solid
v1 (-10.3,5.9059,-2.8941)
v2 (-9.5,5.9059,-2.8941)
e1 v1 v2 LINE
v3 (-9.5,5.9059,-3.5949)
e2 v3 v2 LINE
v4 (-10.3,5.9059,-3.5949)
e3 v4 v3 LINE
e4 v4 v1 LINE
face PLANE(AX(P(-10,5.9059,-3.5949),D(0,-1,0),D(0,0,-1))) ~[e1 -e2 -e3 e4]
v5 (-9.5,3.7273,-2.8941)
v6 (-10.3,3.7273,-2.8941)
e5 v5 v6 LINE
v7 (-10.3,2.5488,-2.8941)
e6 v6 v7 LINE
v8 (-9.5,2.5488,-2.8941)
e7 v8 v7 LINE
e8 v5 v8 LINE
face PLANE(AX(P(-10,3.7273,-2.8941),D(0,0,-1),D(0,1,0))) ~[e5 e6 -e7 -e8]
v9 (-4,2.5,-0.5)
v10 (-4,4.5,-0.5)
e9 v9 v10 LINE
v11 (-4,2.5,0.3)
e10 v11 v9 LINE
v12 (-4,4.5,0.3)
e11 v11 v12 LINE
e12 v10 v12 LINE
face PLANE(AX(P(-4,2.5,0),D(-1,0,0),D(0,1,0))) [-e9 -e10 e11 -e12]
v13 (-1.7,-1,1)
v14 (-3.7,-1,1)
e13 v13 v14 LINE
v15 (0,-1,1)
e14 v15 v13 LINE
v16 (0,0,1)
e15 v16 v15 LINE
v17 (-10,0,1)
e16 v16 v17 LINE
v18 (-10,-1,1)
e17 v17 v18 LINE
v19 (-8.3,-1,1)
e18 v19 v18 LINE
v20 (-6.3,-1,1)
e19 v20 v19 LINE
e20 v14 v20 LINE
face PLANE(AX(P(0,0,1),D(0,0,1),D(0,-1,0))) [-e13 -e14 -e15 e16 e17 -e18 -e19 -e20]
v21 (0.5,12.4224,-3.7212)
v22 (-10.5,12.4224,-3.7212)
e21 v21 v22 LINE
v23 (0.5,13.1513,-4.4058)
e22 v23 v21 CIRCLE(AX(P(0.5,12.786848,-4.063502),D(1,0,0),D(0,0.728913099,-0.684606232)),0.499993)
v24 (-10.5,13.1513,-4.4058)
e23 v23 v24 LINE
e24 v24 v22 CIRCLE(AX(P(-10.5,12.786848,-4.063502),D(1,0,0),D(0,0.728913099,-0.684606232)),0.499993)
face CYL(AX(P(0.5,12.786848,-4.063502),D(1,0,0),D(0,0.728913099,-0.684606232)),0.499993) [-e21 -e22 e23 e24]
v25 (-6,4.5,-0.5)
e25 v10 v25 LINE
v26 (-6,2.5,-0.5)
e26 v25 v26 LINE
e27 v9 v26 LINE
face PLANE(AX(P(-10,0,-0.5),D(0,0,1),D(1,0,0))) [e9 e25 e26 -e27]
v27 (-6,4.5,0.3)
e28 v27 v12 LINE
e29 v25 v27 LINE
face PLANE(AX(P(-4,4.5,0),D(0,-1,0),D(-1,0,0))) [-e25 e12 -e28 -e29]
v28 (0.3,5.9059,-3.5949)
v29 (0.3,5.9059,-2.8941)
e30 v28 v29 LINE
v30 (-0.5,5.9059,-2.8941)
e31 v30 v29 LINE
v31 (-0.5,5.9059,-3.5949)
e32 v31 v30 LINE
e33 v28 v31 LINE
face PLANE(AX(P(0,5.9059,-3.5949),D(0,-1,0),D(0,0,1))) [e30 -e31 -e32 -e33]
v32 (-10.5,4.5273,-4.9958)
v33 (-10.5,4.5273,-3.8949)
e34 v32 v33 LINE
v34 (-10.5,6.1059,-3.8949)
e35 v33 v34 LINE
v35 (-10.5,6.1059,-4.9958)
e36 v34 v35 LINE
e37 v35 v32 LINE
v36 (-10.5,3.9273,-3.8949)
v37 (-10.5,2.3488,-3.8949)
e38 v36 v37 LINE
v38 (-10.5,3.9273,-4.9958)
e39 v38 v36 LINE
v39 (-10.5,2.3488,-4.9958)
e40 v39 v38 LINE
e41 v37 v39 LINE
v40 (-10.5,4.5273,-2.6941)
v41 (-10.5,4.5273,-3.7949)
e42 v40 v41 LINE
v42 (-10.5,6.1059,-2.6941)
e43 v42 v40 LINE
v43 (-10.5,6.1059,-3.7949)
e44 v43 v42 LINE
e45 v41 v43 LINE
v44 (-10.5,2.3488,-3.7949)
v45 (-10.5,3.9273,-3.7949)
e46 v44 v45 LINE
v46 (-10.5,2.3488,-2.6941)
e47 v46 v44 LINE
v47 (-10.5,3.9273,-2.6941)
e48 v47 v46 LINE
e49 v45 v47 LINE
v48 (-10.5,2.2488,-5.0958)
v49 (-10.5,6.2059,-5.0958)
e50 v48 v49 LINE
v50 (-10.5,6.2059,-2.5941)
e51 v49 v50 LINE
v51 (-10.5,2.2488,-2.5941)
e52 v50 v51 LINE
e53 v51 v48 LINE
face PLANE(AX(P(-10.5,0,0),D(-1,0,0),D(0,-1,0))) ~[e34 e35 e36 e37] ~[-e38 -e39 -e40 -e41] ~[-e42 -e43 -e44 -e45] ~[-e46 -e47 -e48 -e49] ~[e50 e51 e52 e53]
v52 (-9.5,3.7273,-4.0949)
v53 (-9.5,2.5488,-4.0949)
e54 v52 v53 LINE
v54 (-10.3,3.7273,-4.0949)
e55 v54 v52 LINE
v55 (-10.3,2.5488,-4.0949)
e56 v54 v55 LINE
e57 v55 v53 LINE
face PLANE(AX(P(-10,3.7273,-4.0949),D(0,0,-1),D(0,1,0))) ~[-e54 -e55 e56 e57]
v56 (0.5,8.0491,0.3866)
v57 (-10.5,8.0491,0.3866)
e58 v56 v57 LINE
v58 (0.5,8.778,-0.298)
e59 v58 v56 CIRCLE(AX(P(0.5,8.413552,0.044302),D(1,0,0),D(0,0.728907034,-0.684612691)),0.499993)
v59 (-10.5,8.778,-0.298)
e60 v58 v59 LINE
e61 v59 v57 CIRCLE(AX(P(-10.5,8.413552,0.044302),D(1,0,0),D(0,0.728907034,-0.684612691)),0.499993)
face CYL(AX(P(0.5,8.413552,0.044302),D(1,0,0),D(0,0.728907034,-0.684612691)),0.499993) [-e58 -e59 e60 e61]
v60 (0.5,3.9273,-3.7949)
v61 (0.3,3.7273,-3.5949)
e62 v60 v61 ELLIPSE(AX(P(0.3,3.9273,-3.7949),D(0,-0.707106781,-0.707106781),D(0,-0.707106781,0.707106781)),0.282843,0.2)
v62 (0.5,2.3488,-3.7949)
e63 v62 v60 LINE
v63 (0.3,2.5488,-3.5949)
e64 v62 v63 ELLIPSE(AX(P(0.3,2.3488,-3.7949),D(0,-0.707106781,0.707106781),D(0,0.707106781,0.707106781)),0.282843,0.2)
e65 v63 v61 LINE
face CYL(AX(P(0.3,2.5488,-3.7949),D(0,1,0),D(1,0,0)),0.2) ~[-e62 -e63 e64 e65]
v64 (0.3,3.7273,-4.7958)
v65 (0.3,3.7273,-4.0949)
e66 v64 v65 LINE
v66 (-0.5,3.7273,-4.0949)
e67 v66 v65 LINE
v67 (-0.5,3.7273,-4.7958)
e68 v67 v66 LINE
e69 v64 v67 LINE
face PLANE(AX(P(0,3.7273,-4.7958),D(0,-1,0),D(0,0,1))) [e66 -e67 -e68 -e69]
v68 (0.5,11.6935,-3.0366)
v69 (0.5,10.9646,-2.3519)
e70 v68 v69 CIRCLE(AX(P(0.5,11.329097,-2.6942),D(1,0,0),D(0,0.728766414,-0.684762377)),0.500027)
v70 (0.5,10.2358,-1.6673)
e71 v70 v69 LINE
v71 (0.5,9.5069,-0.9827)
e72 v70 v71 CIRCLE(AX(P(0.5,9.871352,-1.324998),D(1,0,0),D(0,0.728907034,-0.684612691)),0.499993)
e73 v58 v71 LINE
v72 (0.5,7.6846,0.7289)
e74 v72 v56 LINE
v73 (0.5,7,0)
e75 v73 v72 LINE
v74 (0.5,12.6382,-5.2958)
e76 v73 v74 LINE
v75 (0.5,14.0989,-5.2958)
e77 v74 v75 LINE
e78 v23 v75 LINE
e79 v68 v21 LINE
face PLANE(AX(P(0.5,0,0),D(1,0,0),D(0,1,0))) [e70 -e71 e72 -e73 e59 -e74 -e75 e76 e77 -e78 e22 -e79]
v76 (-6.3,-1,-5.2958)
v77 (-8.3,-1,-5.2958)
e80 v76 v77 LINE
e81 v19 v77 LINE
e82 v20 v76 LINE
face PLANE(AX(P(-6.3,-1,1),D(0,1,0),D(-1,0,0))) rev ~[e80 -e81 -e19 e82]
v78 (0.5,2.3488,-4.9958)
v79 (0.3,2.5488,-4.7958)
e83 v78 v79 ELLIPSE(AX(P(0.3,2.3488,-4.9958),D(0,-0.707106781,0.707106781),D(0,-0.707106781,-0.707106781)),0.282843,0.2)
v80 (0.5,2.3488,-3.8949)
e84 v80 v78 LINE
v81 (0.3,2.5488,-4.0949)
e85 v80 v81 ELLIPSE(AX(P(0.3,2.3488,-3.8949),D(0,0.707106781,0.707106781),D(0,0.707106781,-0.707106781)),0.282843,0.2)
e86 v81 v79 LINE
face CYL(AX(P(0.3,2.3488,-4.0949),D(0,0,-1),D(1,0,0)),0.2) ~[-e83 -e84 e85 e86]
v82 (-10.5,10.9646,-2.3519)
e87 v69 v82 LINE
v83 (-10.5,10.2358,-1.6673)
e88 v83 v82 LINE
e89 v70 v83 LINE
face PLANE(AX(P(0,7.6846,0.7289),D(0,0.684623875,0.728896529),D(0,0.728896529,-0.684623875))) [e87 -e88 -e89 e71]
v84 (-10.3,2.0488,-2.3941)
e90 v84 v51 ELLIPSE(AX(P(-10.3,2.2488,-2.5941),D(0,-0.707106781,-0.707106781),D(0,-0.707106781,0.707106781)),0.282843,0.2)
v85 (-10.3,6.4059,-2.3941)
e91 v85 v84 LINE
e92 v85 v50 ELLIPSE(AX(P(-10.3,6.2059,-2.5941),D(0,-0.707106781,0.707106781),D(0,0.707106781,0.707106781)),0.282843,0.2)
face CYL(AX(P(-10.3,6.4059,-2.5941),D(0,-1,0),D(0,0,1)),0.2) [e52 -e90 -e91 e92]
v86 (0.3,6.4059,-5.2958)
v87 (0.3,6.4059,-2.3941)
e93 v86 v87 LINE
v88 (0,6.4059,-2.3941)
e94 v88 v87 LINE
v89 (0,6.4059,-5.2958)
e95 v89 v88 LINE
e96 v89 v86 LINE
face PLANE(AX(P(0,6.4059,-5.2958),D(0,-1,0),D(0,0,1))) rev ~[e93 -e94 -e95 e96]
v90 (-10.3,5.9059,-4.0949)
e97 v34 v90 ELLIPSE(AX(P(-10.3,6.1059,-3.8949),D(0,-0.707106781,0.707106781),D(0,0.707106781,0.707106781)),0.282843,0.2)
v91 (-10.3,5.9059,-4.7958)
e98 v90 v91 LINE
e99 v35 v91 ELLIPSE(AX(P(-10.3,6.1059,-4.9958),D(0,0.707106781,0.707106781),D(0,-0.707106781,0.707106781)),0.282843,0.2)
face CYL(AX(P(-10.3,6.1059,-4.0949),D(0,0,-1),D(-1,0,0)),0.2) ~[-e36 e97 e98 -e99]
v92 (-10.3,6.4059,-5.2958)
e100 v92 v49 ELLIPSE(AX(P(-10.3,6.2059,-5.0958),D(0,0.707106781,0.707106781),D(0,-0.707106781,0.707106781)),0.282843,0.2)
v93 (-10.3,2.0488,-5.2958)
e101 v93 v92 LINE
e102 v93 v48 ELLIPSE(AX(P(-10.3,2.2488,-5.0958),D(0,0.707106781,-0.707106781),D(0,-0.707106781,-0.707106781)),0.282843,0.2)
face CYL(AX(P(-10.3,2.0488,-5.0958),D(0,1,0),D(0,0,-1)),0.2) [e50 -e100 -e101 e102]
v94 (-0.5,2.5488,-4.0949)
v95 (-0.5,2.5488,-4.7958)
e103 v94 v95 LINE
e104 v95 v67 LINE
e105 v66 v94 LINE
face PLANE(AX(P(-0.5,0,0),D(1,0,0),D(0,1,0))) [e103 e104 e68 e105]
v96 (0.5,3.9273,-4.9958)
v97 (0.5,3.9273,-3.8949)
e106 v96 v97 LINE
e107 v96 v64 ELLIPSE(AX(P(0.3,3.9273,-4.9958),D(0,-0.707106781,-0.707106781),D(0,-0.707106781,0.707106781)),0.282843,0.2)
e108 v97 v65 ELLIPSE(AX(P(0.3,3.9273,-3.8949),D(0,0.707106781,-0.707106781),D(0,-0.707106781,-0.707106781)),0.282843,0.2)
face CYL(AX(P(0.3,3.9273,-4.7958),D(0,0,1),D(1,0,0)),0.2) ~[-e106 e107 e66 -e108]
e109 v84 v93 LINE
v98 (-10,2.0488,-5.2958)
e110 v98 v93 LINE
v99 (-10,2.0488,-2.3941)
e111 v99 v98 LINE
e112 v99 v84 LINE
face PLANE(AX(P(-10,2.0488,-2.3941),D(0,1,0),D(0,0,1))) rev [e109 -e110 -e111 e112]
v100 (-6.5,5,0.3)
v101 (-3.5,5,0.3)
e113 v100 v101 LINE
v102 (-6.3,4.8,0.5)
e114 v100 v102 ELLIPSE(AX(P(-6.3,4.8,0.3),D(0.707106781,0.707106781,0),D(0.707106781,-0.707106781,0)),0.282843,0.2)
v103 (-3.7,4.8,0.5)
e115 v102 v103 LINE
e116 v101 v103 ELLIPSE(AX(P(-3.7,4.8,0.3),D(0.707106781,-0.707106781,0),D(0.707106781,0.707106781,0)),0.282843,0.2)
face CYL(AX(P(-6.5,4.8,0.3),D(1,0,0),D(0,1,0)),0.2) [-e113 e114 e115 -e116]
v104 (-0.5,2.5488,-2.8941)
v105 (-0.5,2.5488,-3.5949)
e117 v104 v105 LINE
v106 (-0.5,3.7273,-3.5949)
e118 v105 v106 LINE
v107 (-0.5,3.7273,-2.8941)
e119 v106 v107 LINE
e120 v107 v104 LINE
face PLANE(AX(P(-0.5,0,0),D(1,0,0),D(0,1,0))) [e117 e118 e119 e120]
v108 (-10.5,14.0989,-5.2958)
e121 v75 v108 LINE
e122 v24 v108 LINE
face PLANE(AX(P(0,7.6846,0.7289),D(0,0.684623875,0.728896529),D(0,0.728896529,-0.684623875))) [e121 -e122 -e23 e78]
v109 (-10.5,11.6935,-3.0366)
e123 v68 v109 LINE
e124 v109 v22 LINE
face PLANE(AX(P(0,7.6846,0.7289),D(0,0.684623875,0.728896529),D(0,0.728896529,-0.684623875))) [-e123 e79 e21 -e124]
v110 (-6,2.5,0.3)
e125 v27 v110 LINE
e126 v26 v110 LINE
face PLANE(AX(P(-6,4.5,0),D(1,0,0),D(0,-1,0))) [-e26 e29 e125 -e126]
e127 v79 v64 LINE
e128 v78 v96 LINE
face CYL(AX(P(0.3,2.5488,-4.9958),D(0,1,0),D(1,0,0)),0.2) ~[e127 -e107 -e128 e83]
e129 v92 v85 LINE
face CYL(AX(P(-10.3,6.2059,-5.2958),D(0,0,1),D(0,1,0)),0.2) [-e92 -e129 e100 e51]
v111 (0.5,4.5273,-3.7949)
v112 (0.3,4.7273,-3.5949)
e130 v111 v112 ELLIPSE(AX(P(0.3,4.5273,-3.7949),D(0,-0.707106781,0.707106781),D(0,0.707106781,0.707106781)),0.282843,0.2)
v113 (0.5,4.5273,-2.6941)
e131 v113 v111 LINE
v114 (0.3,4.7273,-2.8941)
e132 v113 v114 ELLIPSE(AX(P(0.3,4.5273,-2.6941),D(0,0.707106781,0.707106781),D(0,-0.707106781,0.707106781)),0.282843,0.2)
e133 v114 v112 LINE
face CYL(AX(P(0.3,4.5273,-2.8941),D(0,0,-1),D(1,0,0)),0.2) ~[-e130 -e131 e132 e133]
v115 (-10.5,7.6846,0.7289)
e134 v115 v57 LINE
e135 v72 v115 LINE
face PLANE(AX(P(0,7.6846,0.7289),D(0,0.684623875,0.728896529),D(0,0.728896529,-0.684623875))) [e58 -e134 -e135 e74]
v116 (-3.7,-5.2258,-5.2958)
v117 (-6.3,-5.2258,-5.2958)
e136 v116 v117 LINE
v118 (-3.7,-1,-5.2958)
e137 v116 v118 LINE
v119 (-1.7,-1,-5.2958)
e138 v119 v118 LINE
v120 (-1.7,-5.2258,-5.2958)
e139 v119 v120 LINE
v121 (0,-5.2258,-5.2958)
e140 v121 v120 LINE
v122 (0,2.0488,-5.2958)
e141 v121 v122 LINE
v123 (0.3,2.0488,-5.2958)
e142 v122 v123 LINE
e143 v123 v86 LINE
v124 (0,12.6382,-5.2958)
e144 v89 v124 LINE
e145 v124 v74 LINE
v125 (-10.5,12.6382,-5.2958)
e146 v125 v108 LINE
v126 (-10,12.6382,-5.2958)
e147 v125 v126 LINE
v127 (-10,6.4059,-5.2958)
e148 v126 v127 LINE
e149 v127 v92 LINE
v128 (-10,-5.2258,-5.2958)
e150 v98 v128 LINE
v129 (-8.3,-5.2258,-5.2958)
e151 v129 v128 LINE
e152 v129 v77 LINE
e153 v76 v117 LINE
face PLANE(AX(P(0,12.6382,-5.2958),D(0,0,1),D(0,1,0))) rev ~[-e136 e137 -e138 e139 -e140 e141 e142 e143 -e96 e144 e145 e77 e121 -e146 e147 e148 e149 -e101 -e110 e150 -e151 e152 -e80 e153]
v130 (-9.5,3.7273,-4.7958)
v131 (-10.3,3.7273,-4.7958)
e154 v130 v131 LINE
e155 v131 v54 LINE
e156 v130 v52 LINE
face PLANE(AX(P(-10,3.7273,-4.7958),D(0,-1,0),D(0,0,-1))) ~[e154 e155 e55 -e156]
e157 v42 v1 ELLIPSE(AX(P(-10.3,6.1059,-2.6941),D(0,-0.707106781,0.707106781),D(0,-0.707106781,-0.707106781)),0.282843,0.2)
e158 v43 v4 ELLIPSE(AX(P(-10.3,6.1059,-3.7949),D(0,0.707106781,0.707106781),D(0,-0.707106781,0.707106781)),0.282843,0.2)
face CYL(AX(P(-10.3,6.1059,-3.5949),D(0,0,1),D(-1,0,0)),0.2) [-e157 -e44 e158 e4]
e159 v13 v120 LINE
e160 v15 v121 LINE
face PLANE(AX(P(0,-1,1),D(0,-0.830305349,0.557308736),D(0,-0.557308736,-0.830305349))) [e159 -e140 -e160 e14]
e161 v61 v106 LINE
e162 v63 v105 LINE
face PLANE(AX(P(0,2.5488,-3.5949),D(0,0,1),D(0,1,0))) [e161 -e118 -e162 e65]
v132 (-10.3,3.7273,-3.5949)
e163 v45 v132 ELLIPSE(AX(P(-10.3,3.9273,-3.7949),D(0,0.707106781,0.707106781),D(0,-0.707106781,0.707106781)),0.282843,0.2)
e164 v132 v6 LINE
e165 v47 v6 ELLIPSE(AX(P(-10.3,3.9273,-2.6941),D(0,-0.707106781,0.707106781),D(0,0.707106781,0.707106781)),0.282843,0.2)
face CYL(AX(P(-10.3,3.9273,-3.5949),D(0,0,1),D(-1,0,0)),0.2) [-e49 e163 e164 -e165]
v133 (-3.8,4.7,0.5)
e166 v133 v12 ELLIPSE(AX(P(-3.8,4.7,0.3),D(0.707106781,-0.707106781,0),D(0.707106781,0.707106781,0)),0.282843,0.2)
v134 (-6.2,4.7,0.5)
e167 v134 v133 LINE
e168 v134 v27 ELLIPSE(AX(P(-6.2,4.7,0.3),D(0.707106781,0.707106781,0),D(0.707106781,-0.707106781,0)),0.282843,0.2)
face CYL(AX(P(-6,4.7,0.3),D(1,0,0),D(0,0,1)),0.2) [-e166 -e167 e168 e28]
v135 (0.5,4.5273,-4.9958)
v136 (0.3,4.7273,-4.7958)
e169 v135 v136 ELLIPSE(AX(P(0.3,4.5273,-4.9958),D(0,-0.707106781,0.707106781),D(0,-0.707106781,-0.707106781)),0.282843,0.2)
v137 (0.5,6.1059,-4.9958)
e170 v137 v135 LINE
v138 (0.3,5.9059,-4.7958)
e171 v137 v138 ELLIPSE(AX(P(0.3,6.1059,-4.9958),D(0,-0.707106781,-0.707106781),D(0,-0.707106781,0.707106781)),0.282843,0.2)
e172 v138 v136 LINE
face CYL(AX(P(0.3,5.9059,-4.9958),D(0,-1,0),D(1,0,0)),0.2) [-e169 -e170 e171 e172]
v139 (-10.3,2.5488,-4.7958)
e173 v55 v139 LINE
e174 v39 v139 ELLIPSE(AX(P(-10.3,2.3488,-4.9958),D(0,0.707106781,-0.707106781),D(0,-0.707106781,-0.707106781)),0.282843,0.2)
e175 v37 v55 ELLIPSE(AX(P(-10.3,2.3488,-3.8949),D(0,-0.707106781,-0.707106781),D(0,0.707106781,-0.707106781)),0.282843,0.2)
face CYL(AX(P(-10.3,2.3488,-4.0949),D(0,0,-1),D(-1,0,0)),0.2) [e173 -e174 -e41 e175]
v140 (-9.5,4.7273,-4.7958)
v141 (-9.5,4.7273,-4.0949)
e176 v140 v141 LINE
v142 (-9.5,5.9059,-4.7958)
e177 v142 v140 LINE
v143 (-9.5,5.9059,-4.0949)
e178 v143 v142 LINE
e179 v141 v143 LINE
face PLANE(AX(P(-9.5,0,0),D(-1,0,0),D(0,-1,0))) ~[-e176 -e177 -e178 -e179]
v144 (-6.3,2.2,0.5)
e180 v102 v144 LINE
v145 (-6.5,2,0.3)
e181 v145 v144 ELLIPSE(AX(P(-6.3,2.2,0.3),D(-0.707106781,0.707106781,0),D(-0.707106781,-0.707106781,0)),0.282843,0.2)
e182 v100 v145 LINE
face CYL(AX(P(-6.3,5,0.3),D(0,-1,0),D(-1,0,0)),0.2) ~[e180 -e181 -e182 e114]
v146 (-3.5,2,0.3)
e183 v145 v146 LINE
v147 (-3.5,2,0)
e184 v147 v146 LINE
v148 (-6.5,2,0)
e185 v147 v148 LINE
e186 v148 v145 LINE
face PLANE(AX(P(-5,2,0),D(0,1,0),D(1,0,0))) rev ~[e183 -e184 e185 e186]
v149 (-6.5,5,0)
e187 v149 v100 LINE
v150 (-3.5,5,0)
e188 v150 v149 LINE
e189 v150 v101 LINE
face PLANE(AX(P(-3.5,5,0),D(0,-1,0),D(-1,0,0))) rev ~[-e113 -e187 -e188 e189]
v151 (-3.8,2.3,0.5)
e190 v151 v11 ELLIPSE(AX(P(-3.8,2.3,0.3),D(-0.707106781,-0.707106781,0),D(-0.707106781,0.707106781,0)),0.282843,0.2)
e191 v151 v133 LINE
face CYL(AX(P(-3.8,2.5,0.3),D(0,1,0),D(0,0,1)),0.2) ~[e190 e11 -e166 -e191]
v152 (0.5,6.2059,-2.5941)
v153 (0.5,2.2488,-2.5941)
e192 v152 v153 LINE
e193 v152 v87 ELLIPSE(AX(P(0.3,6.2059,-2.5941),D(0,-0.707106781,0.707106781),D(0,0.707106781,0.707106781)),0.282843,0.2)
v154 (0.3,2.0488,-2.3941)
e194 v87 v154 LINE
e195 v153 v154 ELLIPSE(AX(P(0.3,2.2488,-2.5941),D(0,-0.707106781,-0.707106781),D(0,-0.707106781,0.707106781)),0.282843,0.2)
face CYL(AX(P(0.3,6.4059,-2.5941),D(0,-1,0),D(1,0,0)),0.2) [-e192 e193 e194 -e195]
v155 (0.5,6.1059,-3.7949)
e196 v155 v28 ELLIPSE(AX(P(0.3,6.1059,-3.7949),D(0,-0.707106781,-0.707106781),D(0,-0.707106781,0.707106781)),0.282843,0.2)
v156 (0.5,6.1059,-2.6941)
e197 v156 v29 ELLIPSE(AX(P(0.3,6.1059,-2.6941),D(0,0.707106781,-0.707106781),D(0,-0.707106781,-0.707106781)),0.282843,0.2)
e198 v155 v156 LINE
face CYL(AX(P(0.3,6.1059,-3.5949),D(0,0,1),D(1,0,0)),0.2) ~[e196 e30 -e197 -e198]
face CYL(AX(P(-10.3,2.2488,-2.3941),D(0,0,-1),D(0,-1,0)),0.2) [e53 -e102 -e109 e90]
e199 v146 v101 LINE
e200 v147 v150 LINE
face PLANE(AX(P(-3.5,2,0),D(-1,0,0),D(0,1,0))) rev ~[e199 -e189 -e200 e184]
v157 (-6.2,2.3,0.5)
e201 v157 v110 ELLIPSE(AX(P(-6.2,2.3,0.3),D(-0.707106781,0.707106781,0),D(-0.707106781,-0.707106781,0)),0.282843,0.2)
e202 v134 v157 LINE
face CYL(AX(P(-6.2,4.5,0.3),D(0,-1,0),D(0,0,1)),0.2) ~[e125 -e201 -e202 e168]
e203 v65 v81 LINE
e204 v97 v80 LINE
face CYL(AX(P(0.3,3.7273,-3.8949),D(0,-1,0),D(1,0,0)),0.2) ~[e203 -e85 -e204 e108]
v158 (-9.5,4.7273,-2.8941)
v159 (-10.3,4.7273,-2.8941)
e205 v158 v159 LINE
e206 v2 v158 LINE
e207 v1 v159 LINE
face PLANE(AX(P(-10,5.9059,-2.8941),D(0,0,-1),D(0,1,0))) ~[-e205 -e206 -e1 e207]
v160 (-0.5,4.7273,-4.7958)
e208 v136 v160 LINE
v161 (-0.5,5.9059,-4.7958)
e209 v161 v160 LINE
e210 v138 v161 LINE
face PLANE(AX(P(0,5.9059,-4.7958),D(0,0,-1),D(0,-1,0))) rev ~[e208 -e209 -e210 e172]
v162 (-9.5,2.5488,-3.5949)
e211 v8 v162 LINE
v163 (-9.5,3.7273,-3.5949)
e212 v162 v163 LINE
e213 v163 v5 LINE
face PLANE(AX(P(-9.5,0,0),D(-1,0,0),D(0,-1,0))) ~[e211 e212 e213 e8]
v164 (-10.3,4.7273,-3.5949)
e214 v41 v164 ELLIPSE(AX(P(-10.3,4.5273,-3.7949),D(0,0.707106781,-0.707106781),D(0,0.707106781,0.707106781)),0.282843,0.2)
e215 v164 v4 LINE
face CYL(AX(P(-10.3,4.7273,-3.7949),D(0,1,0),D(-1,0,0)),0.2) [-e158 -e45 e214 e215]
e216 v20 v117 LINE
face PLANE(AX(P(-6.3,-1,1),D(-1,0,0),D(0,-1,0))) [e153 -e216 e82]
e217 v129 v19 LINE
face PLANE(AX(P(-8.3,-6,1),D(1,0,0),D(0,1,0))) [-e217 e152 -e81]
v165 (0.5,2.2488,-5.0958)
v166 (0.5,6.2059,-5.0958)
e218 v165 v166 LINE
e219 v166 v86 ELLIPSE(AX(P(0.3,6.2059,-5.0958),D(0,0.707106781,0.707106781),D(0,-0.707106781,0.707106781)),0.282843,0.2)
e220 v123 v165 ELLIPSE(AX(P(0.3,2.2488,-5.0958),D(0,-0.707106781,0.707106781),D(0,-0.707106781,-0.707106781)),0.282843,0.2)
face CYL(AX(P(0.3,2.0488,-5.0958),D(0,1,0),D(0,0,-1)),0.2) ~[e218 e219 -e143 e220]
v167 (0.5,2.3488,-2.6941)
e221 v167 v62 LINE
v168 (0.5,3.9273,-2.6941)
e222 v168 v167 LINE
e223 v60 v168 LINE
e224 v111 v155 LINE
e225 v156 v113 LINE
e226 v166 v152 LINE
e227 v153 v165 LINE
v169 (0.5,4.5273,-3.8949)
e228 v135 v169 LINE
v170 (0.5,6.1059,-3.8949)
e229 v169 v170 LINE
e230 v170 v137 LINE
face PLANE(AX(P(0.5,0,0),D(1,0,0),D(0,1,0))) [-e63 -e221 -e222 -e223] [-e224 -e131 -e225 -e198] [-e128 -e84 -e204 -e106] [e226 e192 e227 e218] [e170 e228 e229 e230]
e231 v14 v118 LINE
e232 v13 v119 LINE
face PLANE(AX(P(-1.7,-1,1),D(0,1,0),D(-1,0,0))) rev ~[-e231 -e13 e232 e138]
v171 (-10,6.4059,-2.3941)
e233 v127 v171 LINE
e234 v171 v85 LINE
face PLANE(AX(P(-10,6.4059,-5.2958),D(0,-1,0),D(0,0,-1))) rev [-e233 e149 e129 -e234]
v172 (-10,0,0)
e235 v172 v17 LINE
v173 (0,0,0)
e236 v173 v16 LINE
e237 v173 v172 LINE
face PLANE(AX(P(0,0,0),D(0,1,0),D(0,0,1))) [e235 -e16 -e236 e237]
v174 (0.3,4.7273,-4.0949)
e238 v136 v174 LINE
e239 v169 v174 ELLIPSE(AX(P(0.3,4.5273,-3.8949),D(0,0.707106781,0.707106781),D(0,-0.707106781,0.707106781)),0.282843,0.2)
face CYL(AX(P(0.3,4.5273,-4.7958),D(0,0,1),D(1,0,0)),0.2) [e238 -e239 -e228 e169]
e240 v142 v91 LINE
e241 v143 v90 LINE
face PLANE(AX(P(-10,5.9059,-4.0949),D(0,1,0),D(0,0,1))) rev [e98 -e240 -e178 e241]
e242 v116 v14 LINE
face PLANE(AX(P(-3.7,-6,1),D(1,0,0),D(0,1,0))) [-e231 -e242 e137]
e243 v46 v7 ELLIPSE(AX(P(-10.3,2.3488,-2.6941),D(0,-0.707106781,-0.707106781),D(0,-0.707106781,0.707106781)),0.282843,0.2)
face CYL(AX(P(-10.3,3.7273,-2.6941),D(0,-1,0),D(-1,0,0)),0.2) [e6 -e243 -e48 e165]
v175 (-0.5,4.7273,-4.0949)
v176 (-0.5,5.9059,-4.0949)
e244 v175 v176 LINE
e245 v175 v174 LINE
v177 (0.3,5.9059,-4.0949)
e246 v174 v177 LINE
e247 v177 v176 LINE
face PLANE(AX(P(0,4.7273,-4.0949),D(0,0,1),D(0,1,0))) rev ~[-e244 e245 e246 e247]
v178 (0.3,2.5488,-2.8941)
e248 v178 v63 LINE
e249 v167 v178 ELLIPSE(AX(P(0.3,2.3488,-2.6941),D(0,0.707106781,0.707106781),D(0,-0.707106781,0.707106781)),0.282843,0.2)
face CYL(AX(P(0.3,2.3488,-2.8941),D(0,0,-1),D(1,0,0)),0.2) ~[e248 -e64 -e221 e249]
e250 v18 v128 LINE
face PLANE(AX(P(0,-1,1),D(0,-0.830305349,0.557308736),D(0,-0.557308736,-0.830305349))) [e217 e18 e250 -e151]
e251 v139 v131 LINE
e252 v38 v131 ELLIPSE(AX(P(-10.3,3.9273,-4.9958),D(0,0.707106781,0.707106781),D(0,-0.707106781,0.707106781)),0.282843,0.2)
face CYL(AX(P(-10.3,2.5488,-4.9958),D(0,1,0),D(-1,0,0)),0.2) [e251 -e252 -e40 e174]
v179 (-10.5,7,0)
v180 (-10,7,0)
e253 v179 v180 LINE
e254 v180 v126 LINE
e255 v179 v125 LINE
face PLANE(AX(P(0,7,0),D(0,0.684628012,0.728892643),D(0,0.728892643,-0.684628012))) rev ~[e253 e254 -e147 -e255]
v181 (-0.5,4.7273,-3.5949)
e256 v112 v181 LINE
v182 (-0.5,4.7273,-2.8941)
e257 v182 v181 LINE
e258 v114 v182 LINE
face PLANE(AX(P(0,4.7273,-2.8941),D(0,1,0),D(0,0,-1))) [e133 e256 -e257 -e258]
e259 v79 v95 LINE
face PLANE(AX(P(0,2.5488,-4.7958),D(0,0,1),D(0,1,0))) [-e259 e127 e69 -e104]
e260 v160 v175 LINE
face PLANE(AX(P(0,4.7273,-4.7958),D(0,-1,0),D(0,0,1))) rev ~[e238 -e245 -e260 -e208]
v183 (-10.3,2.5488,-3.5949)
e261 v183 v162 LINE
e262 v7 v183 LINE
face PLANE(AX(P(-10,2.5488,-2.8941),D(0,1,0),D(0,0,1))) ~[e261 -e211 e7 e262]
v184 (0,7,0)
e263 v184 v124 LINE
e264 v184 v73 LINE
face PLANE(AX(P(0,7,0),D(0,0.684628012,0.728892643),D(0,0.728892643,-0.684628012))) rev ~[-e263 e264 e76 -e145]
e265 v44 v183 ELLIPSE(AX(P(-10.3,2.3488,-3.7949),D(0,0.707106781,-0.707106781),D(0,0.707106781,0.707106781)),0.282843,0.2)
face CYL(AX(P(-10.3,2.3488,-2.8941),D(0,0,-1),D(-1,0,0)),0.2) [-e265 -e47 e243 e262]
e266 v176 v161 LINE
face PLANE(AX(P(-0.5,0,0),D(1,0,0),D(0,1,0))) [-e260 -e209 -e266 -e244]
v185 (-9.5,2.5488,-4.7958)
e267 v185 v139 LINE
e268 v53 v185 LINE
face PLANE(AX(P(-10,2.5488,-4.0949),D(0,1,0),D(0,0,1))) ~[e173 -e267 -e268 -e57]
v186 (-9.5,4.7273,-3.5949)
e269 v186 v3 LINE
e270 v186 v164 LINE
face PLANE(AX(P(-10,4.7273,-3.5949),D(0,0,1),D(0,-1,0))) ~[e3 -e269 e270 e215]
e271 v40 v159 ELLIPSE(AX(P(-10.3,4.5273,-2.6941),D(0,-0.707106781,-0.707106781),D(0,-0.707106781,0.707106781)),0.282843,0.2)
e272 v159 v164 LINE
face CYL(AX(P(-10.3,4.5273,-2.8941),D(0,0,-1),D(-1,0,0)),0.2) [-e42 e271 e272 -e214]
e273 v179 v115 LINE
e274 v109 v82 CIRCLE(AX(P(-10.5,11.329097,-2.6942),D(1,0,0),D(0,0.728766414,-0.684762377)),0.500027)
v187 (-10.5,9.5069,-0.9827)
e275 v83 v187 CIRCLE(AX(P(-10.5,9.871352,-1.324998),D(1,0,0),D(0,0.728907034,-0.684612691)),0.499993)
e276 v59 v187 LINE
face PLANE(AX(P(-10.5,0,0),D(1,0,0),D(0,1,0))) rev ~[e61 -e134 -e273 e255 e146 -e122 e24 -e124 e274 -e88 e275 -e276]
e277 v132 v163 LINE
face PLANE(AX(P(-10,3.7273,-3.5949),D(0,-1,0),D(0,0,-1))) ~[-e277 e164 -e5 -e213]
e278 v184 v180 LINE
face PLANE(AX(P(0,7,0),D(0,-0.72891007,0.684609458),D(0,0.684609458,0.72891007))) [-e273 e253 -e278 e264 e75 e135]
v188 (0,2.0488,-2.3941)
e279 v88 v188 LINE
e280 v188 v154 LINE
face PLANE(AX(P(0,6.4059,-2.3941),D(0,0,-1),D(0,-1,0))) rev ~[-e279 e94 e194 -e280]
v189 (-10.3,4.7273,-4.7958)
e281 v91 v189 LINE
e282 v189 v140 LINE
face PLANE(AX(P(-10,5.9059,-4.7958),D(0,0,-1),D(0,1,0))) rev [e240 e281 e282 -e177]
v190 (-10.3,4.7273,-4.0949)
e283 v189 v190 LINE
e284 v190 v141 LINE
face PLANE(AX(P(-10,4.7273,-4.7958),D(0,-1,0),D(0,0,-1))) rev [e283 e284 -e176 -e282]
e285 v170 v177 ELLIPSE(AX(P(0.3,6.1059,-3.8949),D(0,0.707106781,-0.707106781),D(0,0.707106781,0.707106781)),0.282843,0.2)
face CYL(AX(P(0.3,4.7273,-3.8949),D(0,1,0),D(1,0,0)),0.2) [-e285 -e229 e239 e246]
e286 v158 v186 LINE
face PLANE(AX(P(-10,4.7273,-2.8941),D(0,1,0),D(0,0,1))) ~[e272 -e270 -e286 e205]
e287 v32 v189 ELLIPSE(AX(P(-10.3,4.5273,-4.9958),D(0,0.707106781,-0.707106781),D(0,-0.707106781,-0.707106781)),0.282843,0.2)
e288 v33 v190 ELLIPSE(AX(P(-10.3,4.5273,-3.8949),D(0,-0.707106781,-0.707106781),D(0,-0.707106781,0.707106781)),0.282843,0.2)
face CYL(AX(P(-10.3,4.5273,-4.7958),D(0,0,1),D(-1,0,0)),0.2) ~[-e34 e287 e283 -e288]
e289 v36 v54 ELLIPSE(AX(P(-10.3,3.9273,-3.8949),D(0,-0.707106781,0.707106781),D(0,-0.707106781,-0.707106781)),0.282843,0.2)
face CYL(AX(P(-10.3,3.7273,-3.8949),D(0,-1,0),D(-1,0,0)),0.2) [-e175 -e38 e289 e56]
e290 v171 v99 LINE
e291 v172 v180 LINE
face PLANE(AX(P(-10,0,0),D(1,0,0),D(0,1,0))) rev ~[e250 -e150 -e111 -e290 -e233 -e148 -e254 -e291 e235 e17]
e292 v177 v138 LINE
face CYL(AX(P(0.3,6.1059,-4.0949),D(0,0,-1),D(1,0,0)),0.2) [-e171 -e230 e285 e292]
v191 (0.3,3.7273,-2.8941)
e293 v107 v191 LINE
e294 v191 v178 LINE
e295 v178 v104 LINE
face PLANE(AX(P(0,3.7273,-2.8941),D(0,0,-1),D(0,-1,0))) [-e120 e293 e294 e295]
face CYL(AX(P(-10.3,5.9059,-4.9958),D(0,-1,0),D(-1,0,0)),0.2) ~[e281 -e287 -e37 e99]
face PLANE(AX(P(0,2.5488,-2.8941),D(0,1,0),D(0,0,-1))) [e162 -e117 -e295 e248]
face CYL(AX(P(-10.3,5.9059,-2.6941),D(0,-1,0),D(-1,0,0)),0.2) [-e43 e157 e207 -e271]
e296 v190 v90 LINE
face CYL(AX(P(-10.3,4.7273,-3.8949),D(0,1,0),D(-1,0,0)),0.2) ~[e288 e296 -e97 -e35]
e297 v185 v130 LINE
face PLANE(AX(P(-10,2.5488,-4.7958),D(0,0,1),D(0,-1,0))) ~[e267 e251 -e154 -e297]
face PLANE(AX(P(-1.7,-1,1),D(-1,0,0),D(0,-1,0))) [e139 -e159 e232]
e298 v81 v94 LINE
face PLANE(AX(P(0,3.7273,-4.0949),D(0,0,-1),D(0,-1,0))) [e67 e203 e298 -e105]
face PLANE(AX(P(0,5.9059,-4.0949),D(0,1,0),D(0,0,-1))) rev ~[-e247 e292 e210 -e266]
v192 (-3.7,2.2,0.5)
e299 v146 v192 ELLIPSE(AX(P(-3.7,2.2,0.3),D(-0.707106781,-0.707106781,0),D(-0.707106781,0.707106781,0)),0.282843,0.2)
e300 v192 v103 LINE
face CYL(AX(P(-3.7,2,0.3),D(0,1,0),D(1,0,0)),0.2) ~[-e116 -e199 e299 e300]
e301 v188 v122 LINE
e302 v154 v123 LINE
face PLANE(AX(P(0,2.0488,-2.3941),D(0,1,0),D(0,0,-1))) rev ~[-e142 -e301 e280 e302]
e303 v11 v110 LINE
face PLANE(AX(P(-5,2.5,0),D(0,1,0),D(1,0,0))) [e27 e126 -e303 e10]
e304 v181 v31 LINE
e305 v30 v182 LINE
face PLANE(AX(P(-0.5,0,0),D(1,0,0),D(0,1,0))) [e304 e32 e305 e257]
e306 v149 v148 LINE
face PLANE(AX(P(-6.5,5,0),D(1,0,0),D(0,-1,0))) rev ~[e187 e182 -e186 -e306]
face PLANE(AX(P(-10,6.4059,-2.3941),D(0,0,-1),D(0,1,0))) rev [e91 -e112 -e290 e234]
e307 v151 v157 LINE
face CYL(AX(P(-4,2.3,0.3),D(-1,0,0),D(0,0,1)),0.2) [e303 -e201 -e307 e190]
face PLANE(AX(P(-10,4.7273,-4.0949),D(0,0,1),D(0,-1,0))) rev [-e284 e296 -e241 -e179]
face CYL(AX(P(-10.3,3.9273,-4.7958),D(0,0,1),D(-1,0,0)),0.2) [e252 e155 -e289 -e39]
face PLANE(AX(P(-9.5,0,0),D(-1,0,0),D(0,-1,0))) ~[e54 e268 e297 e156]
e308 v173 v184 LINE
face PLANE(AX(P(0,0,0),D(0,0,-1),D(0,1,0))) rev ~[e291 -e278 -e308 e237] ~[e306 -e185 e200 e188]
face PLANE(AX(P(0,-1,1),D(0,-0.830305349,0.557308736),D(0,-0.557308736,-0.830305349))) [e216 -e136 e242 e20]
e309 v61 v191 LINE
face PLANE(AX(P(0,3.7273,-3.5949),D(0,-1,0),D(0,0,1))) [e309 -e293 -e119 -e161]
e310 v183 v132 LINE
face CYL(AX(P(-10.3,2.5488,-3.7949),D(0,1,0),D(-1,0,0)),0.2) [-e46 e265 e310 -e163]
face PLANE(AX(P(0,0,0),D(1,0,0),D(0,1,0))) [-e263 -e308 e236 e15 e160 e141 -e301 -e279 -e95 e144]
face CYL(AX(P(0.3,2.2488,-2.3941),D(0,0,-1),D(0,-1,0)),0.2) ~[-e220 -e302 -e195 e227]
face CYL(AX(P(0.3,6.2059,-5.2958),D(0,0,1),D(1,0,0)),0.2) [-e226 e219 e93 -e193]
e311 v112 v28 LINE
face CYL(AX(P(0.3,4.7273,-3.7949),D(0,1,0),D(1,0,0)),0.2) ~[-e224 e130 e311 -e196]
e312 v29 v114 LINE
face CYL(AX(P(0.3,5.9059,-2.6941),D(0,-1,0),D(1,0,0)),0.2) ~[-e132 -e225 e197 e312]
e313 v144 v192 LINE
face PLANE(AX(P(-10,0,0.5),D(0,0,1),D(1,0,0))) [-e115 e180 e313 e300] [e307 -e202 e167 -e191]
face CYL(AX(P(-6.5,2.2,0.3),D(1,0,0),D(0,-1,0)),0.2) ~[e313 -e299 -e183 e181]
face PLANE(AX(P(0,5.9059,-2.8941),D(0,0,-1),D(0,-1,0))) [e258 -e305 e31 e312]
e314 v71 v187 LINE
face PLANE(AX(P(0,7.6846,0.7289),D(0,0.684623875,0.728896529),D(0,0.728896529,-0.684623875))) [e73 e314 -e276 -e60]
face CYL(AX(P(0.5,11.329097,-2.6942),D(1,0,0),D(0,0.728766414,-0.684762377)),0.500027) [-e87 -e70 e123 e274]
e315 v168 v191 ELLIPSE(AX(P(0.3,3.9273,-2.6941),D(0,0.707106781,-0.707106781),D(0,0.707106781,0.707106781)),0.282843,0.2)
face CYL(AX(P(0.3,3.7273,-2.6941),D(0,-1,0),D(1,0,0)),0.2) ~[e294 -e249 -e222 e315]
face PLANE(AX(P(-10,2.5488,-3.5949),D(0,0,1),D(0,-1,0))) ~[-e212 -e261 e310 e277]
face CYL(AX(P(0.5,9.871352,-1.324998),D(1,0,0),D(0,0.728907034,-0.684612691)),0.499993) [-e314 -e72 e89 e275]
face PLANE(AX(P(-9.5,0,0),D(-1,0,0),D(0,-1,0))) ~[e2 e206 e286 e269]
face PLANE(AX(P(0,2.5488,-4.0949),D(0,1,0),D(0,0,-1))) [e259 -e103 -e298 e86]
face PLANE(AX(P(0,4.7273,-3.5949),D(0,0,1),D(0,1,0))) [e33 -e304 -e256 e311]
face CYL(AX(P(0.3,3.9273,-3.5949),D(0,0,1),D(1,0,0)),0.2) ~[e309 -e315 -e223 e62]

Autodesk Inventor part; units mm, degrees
ref_plane "YZ Plane" through (0, 0, 0) normal (1, 0, 0) x (0, 1, 0)
ref_plane "XZ Plane" through (0, 0, 0) normal (0, 1, 0) x (-1, 0, 0)
sketch "草圖1" plane through (0, 0, 0) normal (1, 0, 0) x (0, 1, 0)
  line L0 (0, 0) -> (7, 0)
  line L1 (7, 0) -> (7.6846, 0.7289)
  line L2 (7.6846, 0.7289) -> (14.0989, -5.2958)
  line L3 (0, 0) -> (0, 1)
  line L4 (0, 1) -> (-1, 1)
  line L5 (-1, 1) -> (-5.2258, -5.2958)
  line L6 (-5.2258, -5.2958) -> (14.0989, -5.2958)
  line L7 (7, 0) -> (12.6382, -5.2958)
  line L8 (2.0488, -5.2958) -> (6.4059, -5.2958)
  line L9 (6.4059, -5.2958) -> (6.4059, -2.3941)
  line L10 (6.4059, -2.3941) -> (2.0488, -2.3941)
  line L11 (2.0488, -2.3941) -> (2.0488, -5.2958)
  line L12 (5.9059, -2.8941) -> (4.7273, -2.8941)
  line L13 (4.7273, -2.8941) -> (4.7273, -3.5949)
  line L14 (4.7273, -3.5949) -> (5.9059, -3.5949)
  line L15 (5.9059, -3.5949) -> (5.9059, -2.8941)
  line L16 (4.7273, -4.0949) -> (5.9059, -4.0949)
  line L17 (5.9059, -4.0949) -> (5.9059, -4.7958)
  line L18 (5.9059, -4.7958) -> (4.7273, -4.7958)
  line L19 (4.7273, -4.7958) -> (4.7273, -4.0949)
  line L20 (3.7273, -2.8941) -> (2.5488, -2.8941)
  line L21 (2.5488, -2.8941) -> (2.5488, -3.5949)
  line L22 (2.5488, -3.5949) -> (3.7273, -3.5949)
  line L23 (3.7273, -3.5949) -> (3.7273, -2.8941)
  line L24 (3.7273, -4.0949) -> (2.5488, -4.0949)
  line L25 (2.5488, -4.0949) -> (2.5488, -4.7958)
  line L26 (2.5488, -4.7958) -> (3.7273, -4.7958)
  line L27 (3.7273, -4.7958) -> (3.7273, -4.0949)
  dimension "d0" = 7
  dimension "d1" = 1
  dimension "d2" = 8.8
  dimension "d3" = 1
  dimension "d4" = 1
  dimension "d5" = 0.5
  dimension "d6" = 0.5
  dimension "d7" = 0.5
  dimension "d8" = 0.5
  dimension "d9" = 0.5
  dimension "d10" = 0.5
  dimension "d11" = 1
extrude "擠出1" add sketch "草圖1" against normal blind 10 contours L0 L7 L6 L9 L10 L11 L5 L4 L3 | L6 L11 L10 L9 | L15 L14 L13 L12 | L16 L17 L18 L19 | L23 L22 L21 L20 | L27 L26 L25 L24
extrude "擠出2" add sketch "草圖1" along normal blind 0.5 and the other way blind 10.5 contours L1 L2 L6 L7
extrude "擠出3" add sketch "草圖1" along normal blind 0.5 contours L6 L11 L10 L9
extrude "擠出4" cut sketch "草圖1" against normal blind 0.5 contours L15 L14 L13 L12 | L16 L17 L18 L19 | L23 L22 L21 L20 | L27 L26 L25 L24
fillet "圓角1" radius 0.2 20 edges at (0.5, 6.4059, -3.8449) (0.5, 4.2273, -2.3941) (0.5, 2.0488, -3.8449) (0.5, 4.2273, -5.2958) (0.5, 5.3166, -2.8941) (0.5, 5.9059, -3.2445) (0.5, 5.3166, -3.5949) (0.5, 4.7273, -3.2445) (0.5, 3.7273, -3.2445) (0.5, 3.138, -3.5949) (0.5, 3.138, -2.8941) (0.5, 2.5488, -3.2445) (0.5, 2.5488, -4.4454) (0.5, 3.138, -4.0949) (0.5, 3.7273, -4.4454) (0.5, 3.138, -4.7958) (0.5, 5.3166, -4.7958) (0.5, 4.7273, -4.4454) (0.5, 5.3166, -4.0949) (0.5, 5.9059, -4.4454)
ref_plane "工作平面1" through (-5, 0, 0) normal (-1, 0, 0) x (0, 0, 1)
mirror "鏡射1" about plane through (-5, 0, 0) normal (-1, 0, 0) of "擠出3", "圓角1", "擠出4"
sketch "草圖2" plane through (-10, 0, 0) normal (0, 0, 1) x (1, 0, 0)
  line L0 (10, 7) -> (0, 7) projected
  line L1 (5, 7) -> (5, 0)
  line L2 (10, 0) -> (0, 0) projected
  line L3 (4, 2.5) -> (6, 2.5)
  line L4 (6, 2.5) -> (6, 4.5)
  line L5 (6, 4.5) -> (4, 4.5)
  line L6 (4, 4.5) -> (4, 2.5)
  line L7 (4, 2.5) -> (6, 4.5) construction
  line L8 (6, 2.5) -> (4, 4.5) construction
  line L9 (3.5, 2) -> (6.5, 2)
  line L10 (6.5, 2) -> (6.5, 5)
  line L11 (6.5, 5) -> (3.5, 5)
  line L12 (3.5, 5) -> (3.5, 2)
  line L13 (3.5, 2) -> (6.5, 5) construction
  line L14 (6.5, 2) -> (3.5, 5) construction
  point P0 (5, 3.5)
  point P1 (5, 3.5)
  dimension "d23" = 2
  dimension "d24" = 2
  dimension "d25" = 3
  dimension "d26" = 3
extrude "擠出5" cut sketch "草圖2" against normal blind 0.5 contours L5 L4 L3 L1 | L1 L3 L6 L5
extrude "擠出6" add sketch "草圖2" along normal blind 0.5 contours L11 L10 L9 L1 L3 L4 L5 | L1 L5 L6 L3 L9 L12 L11
fillet "圓角2" radius 0.2 8 edges at (-5, 5, 0.5) (-3.5, 3.5, 0.5) (-6.5, 3.5, 0.5) (-5, 2, 0.5) (-5, 2.5, 0.5) (-4, 3.5, 0.5) (-5, 4.5, 0.5) (-6, 3.5, 0.5)
sketch "草圖3" plane through (0, -1, 1) normal (0, 0, 1) x (1, 0, 0)
  line L0 (0, 0) -> (-10, 0) projected
  line L1 (-8.3, 0) -> (-6.3, 0)
  line L2 (-6.3, 0) -> (-6.3, -5)
  line L3 (-6.3, -5) -> (-8.3, -5)
  line L4 (-8.3, -5) -> (-8.3, 0)
  line L5 (-3.7, 0) -> (-1.7, 0)
  line L6 (-1.7, 0) -> (-1.7, -5)
  line L7 (-1.7, -5) -> (-3.7, -5)
  line L8 (-3.7, -5) -> (-3.7, 0)
  line L9 (-10, -4.2258) -> (-10, 0) projected
  line L10 (0, 0) -> (0, -4.2258) projected
  point P0 (0, 1)
  point P1 (-1.7, 0)
  point P2 (-6.3, 0)
  dimension "d32" = 2
  dimension "d33" = 5
  dimension "d34" = 2
  dimension "d35" = 5
  dimension "d36" = 1.7
  dimension "d37" = 1.7
extrude "擠出7" cut sketch "草圖3" against normal up to surface (6.2958 mm away)
sketch "草圖4" plane through (0.5, 0, 0) normal (1, 0, 0) x (0, 0, -1)
  line L0 (-0.7289, 7.6846) -> (5.2958, 14.0989) projected
  arc A0 (0.298, 8.778) -> (-0.3866, 8.0491) centre (-0.0443, 8.4135) ccw
  arc A1 (1.6673, 10.2358) -> (0.9827, 9.5069) centre (1.325, 9.8713) ccw
  arc A2 (3.0366, 11.6935) -> (2.3519, 10.9646) centre (2.6942, 11.3291) ccw
  arc A3 (4.4058, 13.1513) -> (3.7212, 12.4224) centre (4.0635, 12.7869) ccw
  point P0 (0, 0)
  point P1 (4.4058, 13.1513)
  point P2 (3.7212, 12.4224)
  point P3 (2.3519, 10.9646)
  point P4 (1.6673, 10.2358)
  point P5 (0.9827, 9.5069)
  point P6 (0.298, 8.778)
  point P7 (-0.3866, 8.0491)
  dimension "d40" = 1.5
  dimension "d41" = 0.5
  dimension "d44" = 2
extrude "擠出8" add sketch "草圖4" against normal up to surface (11 mm away)
properties part number "背 物1"
